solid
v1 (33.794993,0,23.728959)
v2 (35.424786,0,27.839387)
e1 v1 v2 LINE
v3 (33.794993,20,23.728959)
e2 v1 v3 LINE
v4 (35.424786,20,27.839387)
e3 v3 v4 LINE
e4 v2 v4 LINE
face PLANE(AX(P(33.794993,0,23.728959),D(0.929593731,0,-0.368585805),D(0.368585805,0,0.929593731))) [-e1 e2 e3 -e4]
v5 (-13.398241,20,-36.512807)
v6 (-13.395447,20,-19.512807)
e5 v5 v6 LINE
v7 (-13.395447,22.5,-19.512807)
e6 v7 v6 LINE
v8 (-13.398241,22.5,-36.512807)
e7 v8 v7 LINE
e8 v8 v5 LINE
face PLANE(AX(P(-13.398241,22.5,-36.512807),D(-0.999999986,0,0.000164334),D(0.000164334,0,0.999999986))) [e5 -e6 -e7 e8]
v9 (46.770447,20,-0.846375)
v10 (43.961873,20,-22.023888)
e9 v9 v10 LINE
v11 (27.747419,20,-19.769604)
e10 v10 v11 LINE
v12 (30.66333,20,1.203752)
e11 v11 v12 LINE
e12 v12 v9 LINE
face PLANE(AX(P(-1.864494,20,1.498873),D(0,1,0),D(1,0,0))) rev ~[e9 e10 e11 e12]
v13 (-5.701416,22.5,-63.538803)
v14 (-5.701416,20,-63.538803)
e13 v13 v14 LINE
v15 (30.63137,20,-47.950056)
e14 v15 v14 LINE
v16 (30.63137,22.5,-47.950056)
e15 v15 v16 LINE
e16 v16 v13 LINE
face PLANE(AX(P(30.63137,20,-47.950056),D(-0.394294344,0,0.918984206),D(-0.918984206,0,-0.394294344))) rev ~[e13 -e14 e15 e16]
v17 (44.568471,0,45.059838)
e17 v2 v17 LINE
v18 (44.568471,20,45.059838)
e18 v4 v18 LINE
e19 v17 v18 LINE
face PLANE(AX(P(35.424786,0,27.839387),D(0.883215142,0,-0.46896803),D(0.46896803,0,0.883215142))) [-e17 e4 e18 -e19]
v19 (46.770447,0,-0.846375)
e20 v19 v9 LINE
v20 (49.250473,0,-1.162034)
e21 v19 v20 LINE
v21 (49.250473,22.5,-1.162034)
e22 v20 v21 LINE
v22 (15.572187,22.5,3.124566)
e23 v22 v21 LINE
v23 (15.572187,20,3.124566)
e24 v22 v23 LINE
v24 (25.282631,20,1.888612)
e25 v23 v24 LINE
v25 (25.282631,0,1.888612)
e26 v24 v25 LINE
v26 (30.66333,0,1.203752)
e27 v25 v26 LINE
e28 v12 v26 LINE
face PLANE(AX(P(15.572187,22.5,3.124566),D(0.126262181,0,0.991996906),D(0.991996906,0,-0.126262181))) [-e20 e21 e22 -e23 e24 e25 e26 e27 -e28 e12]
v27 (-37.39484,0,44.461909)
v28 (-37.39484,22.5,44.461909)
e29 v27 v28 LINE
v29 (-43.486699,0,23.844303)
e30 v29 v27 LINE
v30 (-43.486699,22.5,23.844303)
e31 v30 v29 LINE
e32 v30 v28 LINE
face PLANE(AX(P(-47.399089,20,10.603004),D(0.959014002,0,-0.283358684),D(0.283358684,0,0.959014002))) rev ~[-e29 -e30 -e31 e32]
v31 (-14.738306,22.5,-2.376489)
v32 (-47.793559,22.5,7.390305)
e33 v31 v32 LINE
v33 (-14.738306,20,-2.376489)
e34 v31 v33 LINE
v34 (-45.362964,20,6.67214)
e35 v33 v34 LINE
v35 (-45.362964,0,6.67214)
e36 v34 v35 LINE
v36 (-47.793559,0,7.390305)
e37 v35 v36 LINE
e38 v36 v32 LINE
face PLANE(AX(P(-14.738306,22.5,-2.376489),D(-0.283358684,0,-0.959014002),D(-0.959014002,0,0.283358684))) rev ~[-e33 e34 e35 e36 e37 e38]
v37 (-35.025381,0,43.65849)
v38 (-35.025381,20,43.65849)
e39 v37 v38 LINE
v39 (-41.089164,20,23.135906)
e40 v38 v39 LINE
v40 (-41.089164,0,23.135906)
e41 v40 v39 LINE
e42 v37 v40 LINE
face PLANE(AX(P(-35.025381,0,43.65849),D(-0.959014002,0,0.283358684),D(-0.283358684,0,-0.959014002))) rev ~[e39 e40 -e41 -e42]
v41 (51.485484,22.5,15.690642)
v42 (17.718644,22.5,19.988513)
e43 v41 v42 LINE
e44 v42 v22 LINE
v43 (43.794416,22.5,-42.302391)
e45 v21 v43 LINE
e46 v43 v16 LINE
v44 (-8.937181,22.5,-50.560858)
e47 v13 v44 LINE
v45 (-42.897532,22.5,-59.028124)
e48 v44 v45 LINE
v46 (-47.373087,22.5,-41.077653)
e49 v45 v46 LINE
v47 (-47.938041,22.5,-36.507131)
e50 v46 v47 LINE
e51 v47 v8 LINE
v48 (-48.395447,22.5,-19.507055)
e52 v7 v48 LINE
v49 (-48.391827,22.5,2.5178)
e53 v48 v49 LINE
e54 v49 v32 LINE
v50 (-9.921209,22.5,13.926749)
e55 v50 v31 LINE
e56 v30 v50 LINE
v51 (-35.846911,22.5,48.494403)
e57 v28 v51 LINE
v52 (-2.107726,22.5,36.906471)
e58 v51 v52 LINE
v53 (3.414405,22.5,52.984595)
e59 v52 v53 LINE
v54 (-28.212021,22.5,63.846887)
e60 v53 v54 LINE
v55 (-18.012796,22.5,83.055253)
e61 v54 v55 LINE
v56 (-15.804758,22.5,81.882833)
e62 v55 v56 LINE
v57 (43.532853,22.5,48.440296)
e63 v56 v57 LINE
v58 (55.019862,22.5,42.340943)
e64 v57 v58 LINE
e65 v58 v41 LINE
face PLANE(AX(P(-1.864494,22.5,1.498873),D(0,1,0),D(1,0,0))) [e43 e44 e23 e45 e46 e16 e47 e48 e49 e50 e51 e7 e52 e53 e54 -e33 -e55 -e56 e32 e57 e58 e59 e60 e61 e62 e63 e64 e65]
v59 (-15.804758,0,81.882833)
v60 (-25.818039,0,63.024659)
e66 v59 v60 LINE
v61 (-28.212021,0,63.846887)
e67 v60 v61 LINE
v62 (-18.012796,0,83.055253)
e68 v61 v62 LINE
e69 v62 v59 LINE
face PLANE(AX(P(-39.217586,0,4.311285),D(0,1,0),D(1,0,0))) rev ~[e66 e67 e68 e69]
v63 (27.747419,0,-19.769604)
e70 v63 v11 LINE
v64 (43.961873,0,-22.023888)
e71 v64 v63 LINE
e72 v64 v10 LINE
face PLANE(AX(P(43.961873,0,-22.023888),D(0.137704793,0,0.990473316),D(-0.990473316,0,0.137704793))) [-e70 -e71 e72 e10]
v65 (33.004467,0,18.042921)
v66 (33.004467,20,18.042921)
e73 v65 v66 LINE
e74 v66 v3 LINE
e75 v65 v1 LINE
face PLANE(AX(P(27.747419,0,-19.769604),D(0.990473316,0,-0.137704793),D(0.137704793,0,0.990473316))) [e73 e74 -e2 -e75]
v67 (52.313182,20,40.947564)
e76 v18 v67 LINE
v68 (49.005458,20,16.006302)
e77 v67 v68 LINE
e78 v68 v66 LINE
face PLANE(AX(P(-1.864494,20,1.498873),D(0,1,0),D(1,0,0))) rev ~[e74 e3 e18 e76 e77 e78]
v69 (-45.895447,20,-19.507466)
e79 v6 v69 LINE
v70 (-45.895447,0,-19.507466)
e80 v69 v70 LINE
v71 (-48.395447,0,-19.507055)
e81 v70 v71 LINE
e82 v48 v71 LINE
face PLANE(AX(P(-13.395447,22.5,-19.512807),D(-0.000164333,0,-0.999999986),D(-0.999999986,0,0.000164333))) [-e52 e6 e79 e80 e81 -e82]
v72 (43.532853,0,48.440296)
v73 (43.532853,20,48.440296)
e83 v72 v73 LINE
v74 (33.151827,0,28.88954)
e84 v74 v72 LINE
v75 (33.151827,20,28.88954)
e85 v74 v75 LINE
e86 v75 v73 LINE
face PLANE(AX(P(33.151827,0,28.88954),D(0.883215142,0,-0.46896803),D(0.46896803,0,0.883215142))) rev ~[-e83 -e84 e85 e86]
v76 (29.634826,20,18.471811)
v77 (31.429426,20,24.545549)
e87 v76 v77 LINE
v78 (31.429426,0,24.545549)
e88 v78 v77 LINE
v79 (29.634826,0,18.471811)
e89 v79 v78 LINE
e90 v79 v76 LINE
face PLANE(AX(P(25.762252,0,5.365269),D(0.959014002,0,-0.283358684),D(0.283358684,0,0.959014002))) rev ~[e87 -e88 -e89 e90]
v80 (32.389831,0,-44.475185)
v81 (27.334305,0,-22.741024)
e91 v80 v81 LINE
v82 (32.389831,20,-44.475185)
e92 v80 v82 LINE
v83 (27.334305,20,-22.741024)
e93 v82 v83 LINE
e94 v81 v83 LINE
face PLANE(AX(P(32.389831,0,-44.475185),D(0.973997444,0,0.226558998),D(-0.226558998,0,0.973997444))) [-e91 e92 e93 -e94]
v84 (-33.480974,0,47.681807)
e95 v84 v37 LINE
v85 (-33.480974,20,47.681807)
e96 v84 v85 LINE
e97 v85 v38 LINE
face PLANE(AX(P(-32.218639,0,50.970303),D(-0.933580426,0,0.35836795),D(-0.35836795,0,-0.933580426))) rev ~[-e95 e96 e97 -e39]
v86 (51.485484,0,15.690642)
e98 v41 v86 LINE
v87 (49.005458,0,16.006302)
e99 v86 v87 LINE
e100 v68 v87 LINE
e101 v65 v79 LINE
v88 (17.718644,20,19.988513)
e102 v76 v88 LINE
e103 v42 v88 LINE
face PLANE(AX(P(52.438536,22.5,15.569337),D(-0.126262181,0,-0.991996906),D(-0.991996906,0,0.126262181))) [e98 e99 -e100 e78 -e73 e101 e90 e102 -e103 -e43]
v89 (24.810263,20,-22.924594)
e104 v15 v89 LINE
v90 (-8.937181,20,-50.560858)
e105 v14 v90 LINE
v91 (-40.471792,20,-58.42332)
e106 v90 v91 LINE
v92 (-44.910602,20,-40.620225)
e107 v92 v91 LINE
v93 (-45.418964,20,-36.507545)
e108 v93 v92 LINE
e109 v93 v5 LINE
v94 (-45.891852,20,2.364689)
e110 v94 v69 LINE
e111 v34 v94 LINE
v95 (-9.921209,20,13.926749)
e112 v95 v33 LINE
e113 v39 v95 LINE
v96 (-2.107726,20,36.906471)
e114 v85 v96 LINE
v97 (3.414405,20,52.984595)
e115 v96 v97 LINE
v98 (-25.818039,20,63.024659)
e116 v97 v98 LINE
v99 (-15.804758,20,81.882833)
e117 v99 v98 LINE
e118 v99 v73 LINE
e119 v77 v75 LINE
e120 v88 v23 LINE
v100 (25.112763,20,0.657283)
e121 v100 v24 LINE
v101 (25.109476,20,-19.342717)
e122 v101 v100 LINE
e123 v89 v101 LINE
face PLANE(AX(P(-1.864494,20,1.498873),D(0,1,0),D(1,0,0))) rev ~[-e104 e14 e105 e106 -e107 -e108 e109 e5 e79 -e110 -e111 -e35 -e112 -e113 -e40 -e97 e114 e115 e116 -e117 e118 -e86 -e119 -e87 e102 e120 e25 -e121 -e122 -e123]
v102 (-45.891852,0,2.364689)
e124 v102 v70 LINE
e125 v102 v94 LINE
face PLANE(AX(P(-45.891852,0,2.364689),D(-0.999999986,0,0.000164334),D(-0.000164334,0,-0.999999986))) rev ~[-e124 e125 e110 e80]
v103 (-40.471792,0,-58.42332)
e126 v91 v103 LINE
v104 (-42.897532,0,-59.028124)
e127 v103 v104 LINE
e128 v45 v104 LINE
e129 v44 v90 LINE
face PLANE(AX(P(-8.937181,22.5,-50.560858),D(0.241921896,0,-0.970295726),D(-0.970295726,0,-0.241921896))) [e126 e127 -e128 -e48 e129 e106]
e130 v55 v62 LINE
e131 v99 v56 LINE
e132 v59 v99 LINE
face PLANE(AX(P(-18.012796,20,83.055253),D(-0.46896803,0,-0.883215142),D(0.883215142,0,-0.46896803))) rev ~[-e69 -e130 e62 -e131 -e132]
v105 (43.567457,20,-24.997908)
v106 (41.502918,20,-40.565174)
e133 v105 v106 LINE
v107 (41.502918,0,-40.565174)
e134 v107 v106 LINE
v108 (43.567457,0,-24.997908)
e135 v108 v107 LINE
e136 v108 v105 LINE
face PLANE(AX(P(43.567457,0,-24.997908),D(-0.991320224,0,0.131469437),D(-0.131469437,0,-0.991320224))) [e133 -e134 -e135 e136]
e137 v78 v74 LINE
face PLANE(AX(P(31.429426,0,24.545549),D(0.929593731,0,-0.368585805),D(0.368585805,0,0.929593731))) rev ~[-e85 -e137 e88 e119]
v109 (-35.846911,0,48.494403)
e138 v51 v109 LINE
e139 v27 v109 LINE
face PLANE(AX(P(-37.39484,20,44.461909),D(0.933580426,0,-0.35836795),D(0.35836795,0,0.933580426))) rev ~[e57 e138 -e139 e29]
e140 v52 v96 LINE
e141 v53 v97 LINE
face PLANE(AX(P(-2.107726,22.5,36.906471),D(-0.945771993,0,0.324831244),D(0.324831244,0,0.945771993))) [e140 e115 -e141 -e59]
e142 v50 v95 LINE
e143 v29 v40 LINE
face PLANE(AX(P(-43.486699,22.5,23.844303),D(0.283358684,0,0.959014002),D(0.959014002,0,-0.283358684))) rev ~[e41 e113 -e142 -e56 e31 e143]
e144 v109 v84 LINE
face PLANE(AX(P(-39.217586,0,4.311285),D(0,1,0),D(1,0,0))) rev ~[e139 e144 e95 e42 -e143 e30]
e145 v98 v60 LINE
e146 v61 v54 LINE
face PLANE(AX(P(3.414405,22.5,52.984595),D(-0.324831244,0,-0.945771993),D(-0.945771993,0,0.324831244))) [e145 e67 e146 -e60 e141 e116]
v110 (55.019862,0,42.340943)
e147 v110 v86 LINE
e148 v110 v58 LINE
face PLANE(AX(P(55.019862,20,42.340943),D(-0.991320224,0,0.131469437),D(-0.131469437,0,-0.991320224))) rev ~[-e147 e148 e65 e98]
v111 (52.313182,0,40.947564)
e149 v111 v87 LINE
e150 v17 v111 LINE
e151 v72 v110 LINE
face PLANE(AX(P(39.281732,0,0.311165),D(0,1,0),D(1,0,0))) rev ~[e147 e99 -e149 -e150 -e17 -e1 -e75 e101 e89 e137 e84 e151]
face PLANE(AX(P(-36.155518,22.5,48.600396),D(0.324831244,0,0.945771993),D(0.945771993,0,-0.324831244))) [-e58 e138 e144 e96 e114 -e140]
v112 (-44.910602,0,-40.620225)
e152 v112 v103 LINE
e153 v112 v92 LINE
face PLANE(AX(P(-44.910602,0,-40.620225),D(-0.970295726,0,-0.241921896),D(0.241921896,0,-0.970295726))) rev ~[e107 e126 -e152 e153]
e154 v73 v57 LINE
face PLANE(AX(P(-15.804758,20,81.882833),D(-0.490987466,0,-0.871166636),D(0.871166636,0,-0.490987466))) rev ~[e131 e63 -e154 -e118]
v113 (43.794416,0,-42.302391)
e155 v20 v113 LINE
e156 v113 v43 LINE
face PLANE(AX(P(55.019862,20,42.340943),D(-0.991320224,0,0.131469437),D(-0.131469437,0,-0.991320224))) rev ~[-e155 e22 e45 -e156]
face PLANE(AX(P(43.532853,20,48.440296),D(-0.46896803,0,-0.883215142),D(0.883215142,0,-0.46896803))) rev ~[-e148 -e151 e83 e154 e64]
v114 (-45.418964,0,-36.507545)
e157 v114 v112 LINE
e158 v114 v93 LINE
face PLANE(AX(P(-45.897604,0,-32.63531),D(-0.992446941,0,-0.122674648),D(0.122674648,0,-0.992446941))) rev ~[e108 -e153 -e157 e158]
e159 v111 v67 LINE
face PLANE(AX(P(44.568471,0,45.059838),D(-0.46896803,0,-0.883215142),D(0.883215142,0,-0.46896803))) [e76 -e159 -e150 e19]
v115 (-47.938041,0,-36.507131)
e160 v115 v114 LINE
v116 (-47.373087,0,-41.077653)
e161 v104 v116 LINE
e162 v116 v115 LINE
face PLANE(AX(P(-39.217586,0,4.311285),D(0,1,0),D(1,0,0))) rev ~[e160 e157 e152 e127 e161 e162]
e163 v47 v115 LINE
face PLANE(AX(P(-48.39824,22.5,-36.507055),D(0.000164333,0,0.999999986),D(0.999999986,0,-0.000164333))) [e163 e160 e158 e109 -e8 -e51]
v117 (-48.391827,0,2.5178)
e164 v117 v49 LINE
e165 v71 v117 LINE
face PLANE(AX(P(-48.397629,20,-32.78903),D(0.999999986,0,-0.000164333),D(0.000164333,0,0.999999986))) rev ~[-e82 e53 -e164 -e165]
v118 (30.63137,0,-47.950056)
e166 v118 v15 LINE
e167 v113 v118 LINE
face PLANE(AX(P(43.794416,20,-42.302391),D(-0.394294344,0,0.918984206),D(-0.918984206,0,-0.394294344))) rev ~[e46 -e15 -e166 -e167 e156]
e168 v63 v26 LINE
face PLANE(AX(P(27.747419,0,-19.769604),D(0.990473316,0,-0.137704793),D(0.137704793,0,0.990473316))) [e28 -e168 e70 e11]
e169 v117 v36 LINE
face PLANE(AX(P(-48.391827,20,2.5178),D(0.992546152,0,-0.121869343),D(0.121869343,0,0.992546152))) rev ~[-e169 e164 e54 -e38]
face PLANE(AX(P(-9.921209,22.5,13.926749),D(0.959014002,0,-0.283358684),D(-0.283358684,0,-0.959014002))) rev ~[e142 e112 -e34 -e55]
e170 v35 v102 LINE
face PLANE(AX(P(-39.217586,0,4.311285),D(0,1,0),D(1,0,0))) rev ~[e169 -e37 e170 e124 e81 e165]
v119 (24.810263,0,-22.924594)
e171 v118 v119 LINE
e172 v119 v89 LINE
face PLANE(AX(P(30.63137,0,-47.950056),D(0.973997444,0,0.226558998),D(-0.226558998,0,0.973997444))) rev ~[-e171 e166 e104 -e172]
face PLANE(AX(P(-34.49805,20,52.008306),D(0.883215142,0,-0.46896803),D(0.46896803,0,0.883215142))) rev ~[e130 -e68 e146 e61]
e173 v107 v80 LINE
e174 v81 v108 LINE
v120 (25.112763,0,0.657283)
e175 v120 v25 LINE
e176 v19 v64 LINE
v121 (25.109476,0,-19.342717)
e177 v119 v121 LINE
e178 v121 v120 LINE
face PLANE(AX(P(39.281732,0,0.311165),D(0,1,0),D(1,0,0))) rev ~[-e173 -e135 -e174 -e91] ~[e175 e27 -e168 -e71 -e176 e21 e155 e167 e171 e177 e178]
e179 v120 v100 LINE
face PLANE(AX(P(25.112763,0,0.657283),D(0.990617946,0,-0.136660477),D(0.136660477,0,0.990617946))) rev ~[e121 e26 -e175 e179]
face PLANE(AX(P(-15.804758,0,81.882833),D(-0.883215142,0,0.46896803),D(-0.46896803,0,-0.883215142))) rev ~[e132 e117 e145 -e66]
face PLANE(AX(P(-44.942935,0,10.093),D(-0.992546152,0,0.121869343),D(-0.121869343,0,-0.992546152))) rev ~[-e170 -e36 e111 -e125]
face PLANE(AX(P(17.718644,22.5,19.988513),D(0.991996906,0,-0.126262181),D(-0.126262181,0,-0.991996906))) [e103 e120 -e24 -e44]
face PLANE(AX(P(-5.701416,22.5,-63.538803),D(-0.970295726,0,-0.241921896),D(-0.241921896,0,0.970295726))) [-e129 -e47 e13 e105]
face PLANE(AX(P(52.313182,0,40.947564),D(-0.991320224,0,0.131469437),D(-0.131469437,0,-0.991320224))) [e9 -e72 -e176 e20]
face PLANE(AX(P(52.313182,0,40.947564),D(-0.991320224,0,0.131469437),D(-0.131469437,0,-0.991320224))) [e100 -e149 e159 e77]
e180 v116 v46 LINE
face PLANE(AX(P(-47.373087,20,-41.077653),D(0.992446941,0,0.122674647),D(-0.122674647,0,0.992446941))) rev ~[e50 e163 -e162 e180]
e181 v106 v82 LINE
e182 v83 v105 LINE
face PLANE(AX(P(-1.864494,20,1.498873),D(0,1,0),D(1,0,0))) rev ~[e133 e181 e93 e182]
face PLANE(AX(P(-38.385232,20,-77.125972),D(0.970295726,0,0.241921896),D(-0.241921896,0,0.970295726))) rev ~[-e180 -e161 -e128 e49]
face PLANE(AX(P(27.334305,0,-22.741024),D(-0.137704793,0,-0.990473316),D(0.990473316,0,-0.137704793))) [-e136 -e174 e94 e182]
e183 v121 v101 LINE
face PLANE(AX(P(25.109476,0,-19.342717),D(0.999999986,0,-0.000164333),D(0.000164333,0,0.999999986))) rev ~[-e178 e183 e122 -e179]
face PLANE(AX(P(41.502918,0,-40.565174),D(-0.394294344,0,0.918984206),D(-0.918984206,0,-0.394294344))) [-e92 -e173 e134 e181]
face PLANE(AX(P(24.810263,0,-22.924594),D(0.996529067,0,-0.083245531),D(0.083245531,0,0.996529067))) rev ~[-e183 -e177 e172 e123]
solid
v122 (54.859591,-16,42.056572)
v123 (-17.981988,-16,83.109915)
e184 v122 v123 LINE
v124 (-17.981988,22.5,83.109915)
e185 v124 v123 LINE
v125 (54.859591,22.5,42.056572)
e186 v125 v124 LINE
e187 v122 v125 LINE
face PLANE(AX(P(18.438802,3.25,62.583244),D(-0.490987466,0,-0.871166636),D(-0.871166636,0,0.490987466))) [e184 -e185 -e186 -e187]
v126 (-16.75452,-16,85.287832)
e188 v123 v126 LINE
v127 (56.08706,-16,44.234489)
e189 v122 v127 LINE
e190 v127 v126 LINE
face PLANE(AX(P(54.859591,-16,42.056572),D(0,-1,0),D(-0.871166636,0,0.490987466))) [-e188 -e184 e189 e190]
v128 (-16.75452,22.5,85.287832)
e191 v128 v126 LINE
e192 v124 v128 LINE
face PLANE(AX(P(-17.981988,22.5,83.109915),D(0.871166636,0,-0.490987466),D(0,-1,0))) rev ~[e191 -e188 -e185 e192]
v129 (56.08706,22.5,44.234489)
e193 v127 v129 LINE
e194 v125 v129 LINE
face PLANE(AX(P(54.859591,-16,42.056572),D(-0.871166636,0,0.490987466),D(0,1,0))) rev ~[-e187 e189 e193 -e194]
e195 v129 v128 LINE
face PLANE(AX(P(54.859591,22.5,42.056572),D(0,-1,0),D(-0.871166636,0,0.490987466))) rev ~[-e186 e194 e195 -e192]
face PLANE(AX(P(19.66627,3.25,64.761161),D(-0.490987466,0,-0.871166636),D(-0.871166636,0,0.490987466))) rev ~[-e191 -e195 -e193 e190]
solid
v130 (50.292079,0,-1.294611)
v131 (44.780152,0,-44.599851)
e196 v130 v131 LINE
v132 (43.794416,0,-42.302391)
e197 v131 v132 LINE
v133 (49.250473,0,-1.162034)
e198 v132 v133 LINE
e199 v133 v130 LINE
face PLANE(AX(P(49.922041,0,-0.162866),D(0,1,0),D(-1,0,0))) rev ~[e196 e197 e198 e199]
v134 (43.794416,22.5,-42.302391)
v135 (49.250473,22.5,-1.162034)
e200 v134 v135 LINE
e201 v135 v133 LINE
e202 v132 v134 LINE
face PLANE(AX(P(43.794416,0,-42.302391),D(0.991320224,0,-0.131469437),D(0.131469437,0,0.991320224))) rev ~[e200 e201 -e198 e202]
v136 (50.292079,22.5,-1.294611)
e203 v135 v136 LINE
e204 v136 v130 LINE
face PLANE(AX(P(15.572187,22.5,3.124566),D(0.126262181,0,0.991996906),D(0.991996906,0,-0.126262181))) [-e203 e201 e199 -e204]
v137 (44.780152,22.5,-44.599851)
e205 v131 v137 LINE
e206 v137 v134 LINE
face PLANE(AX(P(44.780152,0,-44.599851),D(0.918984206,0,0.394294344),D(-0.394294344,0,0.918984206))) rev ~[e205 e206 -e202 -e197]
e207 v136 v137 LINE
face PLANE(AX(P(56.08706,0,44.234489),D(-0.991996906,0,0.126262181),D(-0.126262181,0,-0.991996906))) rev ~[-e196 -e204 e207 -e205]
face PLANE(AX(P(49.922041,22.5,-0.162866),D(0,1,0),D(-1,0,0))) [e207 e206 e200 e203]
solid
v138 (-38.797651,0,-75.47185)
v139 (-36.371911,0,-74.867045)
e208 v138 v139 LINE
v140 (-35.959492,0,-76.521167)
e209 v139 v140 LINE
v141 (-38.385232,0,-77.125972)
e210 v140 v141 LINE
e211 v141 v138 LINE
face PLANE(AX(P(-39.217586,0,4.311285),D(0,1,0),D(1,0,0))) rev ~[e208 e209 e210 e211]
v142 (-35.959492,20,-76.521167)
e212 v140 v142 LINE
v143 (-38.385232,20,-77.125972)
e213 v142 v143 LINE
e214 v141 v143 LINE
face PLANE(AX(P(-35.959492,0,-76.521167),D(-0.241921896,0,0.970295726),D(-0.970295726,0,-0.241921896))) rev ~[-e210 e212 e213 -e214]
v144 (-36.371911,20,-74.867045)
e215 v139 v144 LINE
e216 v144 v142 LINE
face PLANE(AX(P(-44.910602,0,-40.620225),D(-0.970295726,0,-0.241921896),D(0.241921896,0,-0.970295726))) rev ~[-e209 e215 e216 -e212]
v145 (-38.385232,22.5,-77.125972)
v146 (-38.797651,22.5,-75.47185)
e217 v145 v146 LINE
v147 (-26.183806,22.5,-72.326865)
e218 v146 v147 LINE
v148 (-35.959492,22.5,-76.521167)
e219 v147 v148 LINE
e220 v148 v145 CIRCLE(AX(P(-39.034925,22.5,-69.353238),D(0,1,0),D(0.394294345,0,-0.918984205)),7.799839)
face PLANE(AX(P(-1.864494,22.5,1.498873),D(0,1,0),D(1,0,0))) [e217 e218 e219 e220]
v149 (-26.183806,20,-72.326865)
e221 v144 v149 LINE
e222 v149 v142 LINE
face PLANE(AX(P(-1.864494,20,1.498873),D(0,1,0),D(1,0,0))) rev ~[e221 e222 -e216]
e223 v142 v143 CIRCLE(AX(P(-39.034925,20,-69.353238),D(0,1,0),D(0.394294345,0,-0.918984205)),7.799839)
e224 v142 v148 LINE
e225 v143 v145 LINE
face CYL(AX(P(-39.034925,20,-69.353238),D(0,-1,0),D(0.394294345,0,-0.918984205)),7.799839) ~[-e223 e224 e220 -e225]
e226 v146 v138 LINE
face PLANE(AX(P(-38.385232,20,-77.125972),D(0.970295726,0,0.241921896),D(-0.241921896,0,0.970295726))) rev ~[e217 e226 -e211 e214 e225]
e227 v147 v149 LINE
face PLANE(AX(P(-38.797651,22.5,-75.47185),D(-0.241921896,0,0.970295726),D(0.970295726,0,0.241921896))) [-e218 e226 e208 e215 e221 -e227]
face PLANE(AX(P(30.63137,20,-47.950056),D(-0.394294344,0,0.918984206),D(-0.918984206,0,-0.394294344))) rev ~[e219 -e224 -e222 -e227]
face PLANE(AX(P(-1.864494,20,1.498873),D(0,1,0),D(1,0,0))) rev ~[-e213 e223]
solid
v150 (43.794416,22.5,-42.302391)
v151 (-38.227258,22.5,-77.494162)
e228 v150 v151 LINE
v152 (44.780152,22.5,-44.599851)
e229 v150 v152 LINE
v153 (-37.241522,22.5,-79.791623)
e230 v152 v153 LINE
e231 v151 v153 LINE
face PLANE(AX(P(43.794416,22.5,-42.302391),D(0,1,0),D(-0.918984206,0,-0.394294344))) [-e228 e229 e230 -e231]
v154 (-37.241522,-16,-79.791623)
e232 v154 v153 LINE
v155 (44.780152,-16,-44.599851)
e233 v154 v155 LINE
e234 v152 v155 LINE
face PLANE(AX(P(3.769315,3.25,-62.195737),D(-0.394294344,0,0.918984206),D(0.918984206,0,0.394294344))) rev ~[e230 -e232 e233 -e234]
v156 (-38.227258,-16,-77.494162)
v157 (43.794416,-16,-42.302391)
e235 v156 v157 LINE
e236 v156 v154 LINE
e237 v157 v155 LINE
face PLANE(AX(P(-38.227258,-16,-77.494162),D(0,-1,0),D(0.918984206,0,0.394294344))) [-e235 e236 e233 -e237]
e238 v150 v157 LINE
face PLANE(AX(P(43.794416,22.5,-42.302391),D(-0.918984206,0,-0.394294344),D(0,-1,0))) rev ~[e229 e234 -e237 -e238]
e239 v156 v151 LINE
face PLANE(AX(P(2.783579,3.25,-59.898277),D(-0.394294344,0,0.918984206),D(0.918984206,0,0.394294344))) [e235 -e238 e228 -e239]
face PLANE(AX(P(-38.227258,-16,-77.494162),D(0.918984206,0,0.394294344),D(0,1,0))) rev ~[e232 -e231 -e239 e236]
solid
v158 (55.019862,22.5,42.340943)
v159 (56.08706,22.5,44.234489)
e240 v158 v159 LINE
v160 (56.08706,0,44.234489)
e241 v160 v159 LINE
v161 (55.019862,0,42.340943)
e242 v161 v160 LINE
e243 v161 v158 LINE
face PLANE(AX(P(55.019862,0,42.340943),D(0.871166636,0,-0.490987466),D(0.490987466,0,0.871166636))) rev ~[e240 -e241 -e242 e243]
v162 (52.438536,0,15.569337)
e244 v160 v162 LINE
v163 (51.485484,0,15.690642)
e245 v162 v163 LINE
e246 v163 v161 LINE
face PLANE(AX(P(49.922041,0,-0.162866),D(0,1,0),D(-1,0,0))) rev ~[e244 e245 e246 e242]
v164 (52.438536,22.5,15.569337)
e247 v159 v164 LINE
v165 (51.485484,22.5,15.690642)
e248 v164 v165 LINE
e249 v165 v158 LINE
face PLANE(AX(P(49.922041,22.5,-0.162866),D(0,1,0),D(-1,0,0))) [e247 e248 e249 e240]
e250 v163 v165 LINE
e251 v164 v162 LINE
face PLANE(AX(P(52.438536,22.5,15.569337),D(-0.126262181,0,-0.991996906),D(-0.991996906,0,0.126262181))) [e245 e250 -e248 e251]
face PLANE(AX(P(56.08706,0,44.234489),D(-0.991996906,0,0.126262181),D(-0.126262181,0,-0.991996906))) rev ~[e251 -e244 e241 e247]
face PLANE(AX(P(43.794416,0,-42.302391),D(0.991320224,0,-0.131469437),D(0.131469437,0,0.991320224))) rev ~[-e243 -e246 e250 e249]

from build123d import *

# Parameters (mm, degrees)
BOSS_EXTRUDE1_DEPTH   = 20
BOSS_EXTRUDE1_2_DEPTH = 20
BOSS_EXTRUDE3_DEPTH   = 2.5
BOSS_EXTRUDE5_DEPTH   = 2.5
BOSS_EXTRUDE7_DEPTH   = 2.5
BOSS_EXTRUDE9_DEPTH   = 22.5
CUT_EXTRUDE1_DEPTH    = 35
CUT_EXTRUDE3_DEPTH    = 35
CUT_EXTRUDE5_DEPTH    = 35
CUT_EXTRUDE7_DEPTH    = 35
CUT_EXTRUDE8_DEPTH    = 35


with BuildPart() as part:
    # Sketch1 → Boss-Extrude1 (new body)
    with BuildSketch(Plane(origin=(0, 0, 0), x_dir=(1, 0, 0), z_dir=(0, 1, 0))):
        Polygon((33.151826981, -28.889539813), (43.532853036, -48.440295537), (55.01986224, -42.340943495), (43.794416361, 42.302390906), (30.631369723, 47.950055803), (24.810262555, 22.924594248), (25.109476408, 19.342716652), (25.112763078, -0.657283348), (25.762252215, -5.365269223), (31.429425892, -24.545549266), align=None)
        Polygon((32.389830977, 44.475185063), (27.334304705, 22.741024409), (43.567457043, 24.997907911), (41.502917609, 40.565173886), align=None, mode=Mode.SUBTRACT)
        Polygon((27.747419084, 19.769604461), (33.794993109, -23.728959096), (35.42478626, -27.839387317), (44.568470816, -45.059837607), (52.313182094, -40.947564368), (43.961873164, 22.023888357), align=None, mode=Mode.SUBTRACT)
    extrude(amount=BOSS_EXTRUDE1_DEPTH)



with BuildPart() as body_2:
    # Sketch1 → Boss-Extrude1 2 (new body)
    with BuildSketch(Plane(origin=(0, 0, 0), x_dir=(1, 0, 0), z_dir=(0, 1, 0))):
        Polygon((-35.959492242, 76.521167337), (-38.385231558, 77.125972076), (-47.373086859, 41.077653402), (-48.397629196, 32.789030369), (-48.391827101, -2.517800327), (-47.399088956, -10.603003688), (-37.394840102, -44.4619086), (-34.498049544, -52.008306004), (-18.012795707, -83.055253493), (-15.804757852, -81.882833418), (-32.218638907, -50.970303455), (-35.02538101, -43.658490296), (-44.942934944, -10.093000221), (-45.891852228, -2.364689129), (-45.897603901, 32.635310398), (-44.910602379, 40.620225465), align=None)
    extrude(amount=BOSS_EXTRUDE1_2_DEPTH)


with BuildPart() as part_1:
    add(part.part)

    add(body_2.part)  # Boss-Extrude3 merges body 2
    # Sketch5 → Boss-Extrude3 (add)
    with BuildSketch(Plane(origin=(0, 20, 0), x_dir=(1, 0, 0), z_dir=(0, 1, 0))):
        with BuildLine():
            Line((-15.804757852, -81.882833418), (43.532853036, -48.440295537))
            Line((43.532853036, -48.440295537), (55.01986224, -42.340943495))
            Line((55.01986224, -42.340943495), (43.794416361, 42.302390906))
            Line((43.794416361, 42.302390906), (30.631369723, 47.950055803))
            Line((30.631369723, 47.950055803), (-35.959492242, 76.521167337))
            ThreePointArc((-35.959492242, 76.521167337), (-37.147972825, 76.921388943), (-38.385231558, 77.125972076))
            Line((-38.385231558, 77.125972076), (-47.373086859, 41.077653402))
            Line((-47.373086859, 41.077653402), (-48.397629196, 32.789030369))
            Line((-48.397629196, 32.789030369), (-48.391827101, -2.517800327))
            Line((-48.391827101, -2.517800327), (-47.399088956, -10.603003688))
            Line((-47.399088956, -10.603003688), (-37.394840102, -44.4619086))
            Line((-37.394840102, -44.4619086), (-34.498049544, -52.008306004))
            Line((-34.498049544, -52.008306004), (-18.012795707, -83.055253493))
            Line((-18.012795707, -83.055253493), (-15.804757852, -81.882833418))
        make_face()
    extrude(amount=BOSS_EXTRUDE3_DEPTH)

    # Sketch9 → Cut-Extrude1 (cut)
    with BuildSketch(Plane(origin=(-42.82190598, 22.5, -75.462856003), x_dir=(0.9988636405139372, 0, -0.047659497051944756), z_dir=(0, 1, 0))):
        Polygon((0.746020724, -124.239988023), (35.312448522, -114.182052387), (40.062029239, -130.505087736), (5.495601441, -140.563023372), align=None)
    extrude(amount=-CUT_EXTRUDE1_DEPTH, mode=Mode.SUBTRACT)

    # Sketch11 → Cut-Extrude3 (cut)
    with BuildSketch(Plane(origin=(-42.82190598, 22.5, -75.462856003), x_dir=(0.9988636405139371, 0, -0.04765949705194475), z_dir=(0, 1, 0))):
        Polygon((-5.396966491, -99.162626381), (28.603046753, -90.856056728), (24.568427207, -74.341764581), (-9.431586037, -82.648334234), align=None)
    extrude(amount=-CUT_EXTRUDE3_DEPTH, mode=Mode.SUBTRACT)

    # Sketch13 → Cut-Extrude5 (cut)
    with BuildSketch(Plane(origin=(-42.82190598, 22.5, -75.462856003), x_dir=(0.9988636405139371, 0, -0.04765949705194475), z_dir=(0, 1, 0))):
        Polygon((-7.42661137, -38.645767828), (27.533889698, -40.308105066), (26.726468754, -57.28891987), (-8.234032314, -55.626582632), align=None)
    extrude(amount=-CUT_EXTRUDE5_DEPTH, mode=Mode.SUBTRACT)

    # Sketch15 → Cut-Extrude7 (cut)
    with BuildSketch(Plane(origin=(-42.82190598, 22.5, -75.462856003), x_dir=(0.9988636405139371, 0, -0.04765949705194475), z_dir=(0, 1, 0))):
        Polygon((4.020110973, -0.182810694), (16.469733166, -3.925390986), (36.510013001, -13.679647293), (32.65940268, -26.488629322), (-0.858810917, -16.412451614), align=None)
    extrude(amount=-CUT_EXTRUDE7_DEPTH, mode=Mode.SUBTRACT)


with BuildPart() as body_2_2:
    # Sketch6 → Boss-Extrude5 (new body)
    with BuildSketch(Plane(origin=(31.213867564, 0, 55.383246764), x_dir=(0.871166636126556, 0, -0.4909874663369126), z_dir=(0.49098746633691265, 0, 0.8711666361265561))):
        Polygon((-53.972022649, 22.5), (14.140791166, 22.5), (27.142595739, 22.5), (27.142595739, 0), (27.142595739, -16), (-56.471235122, -16), (-56.471235122, 0), (-56.471235122, 22.5), align=None)
    extrude(amount=BOSS_EXTRUDE5_DEPTH)


with BuildPart() as body_3:
    # Sketch7 → Boss-Extrude7 (new body)
    with BuildSketch(Plane(origin=(22.136914585, 0, -51.594640331), x_dir=(-0.9189842056612053, 0, -0.3942943440441967), z_dir=(0.3942943440441968, 0, -0.9189842056612054))):
        Polygon((-23.566783458, 0), (-23.566783458, 22.5), (65.685756101, 22.5), (65.685756101, 0), (65.685756101, -16), (-23.566783458, -16), align=None)
    extrude(amount=BOSS_EXTRUDE7_DEPTH)


with BuildPart() as body_4:
    # Sketch8 → Boss-Extrude9 (new body)
    with BuildSketch(Plane.XZ):
        Polygon((56.087060055, 44.234489043), (44.780152221, -44.59985142), (43.794416361, -42.302390906), (55.01986224, 42.340943495), align=None)
    extrude(amount=-BOSS_EXTRUDE9_DEPTH)


with BuildPart() as cut_extrude7_piece_1:
    # of the separate pieces the step leaves, piece 1, a body of its own (cut_extrude7_pieces)
    add(part_1.part.solids().sort_by_distance((33.151826981, 0, 28.889539813))[0])


with BuildPart() as cut_extrude7_piece_2:
    # of the separate pieces the step leaves, piece 2, a body of its own (cut_extrude7_pieces)
    add(part_1.part.solids().sort_by_distance((-36.371911317, 20, -74.867044776))[0])


with BuildPart() as cut_extrude8_tool:
    # Sketch16 → Cut-Extrude8 (new body)
    with BuildSketch(Plane(origin=(-42.82190598, 22.5, -75.462856003), x_dir=(0.9988636405139371, 0, -0.04765949705194475), z_dir=(0, 1, 0))):
        Polygon((54.582299423, -81.281151066), (89.473352578, -78.521729075), (90.81364326, -95.468812036), (55.922590105, -98.228234027), align=None)
    extrude(amount=-CUT_EXTRUDE8_DEPTH)


with BuildPart() as body_4_1:
    add(body_4.part)

    # Cut-Extrude8: cut by cut_extrude8_tool
    add(cut_extrude8_tool.part, mode=Mode.SUBTRACT)


with BuildPart() as cut_extrude7_piece_1_1:
    add(cut_extrude7_piece_1.part)

    # Cut-Extrude8: cut by cut_extrude8_tool
    add(cut_extrude8_tool.part, mode=Mode.SUBTRACT)


solid = Compound([body_2_2.part, body_3.part, cut_extrude7_piece_2.part, body_4_1.part, cut_extrude7_piece_1_1.part])
